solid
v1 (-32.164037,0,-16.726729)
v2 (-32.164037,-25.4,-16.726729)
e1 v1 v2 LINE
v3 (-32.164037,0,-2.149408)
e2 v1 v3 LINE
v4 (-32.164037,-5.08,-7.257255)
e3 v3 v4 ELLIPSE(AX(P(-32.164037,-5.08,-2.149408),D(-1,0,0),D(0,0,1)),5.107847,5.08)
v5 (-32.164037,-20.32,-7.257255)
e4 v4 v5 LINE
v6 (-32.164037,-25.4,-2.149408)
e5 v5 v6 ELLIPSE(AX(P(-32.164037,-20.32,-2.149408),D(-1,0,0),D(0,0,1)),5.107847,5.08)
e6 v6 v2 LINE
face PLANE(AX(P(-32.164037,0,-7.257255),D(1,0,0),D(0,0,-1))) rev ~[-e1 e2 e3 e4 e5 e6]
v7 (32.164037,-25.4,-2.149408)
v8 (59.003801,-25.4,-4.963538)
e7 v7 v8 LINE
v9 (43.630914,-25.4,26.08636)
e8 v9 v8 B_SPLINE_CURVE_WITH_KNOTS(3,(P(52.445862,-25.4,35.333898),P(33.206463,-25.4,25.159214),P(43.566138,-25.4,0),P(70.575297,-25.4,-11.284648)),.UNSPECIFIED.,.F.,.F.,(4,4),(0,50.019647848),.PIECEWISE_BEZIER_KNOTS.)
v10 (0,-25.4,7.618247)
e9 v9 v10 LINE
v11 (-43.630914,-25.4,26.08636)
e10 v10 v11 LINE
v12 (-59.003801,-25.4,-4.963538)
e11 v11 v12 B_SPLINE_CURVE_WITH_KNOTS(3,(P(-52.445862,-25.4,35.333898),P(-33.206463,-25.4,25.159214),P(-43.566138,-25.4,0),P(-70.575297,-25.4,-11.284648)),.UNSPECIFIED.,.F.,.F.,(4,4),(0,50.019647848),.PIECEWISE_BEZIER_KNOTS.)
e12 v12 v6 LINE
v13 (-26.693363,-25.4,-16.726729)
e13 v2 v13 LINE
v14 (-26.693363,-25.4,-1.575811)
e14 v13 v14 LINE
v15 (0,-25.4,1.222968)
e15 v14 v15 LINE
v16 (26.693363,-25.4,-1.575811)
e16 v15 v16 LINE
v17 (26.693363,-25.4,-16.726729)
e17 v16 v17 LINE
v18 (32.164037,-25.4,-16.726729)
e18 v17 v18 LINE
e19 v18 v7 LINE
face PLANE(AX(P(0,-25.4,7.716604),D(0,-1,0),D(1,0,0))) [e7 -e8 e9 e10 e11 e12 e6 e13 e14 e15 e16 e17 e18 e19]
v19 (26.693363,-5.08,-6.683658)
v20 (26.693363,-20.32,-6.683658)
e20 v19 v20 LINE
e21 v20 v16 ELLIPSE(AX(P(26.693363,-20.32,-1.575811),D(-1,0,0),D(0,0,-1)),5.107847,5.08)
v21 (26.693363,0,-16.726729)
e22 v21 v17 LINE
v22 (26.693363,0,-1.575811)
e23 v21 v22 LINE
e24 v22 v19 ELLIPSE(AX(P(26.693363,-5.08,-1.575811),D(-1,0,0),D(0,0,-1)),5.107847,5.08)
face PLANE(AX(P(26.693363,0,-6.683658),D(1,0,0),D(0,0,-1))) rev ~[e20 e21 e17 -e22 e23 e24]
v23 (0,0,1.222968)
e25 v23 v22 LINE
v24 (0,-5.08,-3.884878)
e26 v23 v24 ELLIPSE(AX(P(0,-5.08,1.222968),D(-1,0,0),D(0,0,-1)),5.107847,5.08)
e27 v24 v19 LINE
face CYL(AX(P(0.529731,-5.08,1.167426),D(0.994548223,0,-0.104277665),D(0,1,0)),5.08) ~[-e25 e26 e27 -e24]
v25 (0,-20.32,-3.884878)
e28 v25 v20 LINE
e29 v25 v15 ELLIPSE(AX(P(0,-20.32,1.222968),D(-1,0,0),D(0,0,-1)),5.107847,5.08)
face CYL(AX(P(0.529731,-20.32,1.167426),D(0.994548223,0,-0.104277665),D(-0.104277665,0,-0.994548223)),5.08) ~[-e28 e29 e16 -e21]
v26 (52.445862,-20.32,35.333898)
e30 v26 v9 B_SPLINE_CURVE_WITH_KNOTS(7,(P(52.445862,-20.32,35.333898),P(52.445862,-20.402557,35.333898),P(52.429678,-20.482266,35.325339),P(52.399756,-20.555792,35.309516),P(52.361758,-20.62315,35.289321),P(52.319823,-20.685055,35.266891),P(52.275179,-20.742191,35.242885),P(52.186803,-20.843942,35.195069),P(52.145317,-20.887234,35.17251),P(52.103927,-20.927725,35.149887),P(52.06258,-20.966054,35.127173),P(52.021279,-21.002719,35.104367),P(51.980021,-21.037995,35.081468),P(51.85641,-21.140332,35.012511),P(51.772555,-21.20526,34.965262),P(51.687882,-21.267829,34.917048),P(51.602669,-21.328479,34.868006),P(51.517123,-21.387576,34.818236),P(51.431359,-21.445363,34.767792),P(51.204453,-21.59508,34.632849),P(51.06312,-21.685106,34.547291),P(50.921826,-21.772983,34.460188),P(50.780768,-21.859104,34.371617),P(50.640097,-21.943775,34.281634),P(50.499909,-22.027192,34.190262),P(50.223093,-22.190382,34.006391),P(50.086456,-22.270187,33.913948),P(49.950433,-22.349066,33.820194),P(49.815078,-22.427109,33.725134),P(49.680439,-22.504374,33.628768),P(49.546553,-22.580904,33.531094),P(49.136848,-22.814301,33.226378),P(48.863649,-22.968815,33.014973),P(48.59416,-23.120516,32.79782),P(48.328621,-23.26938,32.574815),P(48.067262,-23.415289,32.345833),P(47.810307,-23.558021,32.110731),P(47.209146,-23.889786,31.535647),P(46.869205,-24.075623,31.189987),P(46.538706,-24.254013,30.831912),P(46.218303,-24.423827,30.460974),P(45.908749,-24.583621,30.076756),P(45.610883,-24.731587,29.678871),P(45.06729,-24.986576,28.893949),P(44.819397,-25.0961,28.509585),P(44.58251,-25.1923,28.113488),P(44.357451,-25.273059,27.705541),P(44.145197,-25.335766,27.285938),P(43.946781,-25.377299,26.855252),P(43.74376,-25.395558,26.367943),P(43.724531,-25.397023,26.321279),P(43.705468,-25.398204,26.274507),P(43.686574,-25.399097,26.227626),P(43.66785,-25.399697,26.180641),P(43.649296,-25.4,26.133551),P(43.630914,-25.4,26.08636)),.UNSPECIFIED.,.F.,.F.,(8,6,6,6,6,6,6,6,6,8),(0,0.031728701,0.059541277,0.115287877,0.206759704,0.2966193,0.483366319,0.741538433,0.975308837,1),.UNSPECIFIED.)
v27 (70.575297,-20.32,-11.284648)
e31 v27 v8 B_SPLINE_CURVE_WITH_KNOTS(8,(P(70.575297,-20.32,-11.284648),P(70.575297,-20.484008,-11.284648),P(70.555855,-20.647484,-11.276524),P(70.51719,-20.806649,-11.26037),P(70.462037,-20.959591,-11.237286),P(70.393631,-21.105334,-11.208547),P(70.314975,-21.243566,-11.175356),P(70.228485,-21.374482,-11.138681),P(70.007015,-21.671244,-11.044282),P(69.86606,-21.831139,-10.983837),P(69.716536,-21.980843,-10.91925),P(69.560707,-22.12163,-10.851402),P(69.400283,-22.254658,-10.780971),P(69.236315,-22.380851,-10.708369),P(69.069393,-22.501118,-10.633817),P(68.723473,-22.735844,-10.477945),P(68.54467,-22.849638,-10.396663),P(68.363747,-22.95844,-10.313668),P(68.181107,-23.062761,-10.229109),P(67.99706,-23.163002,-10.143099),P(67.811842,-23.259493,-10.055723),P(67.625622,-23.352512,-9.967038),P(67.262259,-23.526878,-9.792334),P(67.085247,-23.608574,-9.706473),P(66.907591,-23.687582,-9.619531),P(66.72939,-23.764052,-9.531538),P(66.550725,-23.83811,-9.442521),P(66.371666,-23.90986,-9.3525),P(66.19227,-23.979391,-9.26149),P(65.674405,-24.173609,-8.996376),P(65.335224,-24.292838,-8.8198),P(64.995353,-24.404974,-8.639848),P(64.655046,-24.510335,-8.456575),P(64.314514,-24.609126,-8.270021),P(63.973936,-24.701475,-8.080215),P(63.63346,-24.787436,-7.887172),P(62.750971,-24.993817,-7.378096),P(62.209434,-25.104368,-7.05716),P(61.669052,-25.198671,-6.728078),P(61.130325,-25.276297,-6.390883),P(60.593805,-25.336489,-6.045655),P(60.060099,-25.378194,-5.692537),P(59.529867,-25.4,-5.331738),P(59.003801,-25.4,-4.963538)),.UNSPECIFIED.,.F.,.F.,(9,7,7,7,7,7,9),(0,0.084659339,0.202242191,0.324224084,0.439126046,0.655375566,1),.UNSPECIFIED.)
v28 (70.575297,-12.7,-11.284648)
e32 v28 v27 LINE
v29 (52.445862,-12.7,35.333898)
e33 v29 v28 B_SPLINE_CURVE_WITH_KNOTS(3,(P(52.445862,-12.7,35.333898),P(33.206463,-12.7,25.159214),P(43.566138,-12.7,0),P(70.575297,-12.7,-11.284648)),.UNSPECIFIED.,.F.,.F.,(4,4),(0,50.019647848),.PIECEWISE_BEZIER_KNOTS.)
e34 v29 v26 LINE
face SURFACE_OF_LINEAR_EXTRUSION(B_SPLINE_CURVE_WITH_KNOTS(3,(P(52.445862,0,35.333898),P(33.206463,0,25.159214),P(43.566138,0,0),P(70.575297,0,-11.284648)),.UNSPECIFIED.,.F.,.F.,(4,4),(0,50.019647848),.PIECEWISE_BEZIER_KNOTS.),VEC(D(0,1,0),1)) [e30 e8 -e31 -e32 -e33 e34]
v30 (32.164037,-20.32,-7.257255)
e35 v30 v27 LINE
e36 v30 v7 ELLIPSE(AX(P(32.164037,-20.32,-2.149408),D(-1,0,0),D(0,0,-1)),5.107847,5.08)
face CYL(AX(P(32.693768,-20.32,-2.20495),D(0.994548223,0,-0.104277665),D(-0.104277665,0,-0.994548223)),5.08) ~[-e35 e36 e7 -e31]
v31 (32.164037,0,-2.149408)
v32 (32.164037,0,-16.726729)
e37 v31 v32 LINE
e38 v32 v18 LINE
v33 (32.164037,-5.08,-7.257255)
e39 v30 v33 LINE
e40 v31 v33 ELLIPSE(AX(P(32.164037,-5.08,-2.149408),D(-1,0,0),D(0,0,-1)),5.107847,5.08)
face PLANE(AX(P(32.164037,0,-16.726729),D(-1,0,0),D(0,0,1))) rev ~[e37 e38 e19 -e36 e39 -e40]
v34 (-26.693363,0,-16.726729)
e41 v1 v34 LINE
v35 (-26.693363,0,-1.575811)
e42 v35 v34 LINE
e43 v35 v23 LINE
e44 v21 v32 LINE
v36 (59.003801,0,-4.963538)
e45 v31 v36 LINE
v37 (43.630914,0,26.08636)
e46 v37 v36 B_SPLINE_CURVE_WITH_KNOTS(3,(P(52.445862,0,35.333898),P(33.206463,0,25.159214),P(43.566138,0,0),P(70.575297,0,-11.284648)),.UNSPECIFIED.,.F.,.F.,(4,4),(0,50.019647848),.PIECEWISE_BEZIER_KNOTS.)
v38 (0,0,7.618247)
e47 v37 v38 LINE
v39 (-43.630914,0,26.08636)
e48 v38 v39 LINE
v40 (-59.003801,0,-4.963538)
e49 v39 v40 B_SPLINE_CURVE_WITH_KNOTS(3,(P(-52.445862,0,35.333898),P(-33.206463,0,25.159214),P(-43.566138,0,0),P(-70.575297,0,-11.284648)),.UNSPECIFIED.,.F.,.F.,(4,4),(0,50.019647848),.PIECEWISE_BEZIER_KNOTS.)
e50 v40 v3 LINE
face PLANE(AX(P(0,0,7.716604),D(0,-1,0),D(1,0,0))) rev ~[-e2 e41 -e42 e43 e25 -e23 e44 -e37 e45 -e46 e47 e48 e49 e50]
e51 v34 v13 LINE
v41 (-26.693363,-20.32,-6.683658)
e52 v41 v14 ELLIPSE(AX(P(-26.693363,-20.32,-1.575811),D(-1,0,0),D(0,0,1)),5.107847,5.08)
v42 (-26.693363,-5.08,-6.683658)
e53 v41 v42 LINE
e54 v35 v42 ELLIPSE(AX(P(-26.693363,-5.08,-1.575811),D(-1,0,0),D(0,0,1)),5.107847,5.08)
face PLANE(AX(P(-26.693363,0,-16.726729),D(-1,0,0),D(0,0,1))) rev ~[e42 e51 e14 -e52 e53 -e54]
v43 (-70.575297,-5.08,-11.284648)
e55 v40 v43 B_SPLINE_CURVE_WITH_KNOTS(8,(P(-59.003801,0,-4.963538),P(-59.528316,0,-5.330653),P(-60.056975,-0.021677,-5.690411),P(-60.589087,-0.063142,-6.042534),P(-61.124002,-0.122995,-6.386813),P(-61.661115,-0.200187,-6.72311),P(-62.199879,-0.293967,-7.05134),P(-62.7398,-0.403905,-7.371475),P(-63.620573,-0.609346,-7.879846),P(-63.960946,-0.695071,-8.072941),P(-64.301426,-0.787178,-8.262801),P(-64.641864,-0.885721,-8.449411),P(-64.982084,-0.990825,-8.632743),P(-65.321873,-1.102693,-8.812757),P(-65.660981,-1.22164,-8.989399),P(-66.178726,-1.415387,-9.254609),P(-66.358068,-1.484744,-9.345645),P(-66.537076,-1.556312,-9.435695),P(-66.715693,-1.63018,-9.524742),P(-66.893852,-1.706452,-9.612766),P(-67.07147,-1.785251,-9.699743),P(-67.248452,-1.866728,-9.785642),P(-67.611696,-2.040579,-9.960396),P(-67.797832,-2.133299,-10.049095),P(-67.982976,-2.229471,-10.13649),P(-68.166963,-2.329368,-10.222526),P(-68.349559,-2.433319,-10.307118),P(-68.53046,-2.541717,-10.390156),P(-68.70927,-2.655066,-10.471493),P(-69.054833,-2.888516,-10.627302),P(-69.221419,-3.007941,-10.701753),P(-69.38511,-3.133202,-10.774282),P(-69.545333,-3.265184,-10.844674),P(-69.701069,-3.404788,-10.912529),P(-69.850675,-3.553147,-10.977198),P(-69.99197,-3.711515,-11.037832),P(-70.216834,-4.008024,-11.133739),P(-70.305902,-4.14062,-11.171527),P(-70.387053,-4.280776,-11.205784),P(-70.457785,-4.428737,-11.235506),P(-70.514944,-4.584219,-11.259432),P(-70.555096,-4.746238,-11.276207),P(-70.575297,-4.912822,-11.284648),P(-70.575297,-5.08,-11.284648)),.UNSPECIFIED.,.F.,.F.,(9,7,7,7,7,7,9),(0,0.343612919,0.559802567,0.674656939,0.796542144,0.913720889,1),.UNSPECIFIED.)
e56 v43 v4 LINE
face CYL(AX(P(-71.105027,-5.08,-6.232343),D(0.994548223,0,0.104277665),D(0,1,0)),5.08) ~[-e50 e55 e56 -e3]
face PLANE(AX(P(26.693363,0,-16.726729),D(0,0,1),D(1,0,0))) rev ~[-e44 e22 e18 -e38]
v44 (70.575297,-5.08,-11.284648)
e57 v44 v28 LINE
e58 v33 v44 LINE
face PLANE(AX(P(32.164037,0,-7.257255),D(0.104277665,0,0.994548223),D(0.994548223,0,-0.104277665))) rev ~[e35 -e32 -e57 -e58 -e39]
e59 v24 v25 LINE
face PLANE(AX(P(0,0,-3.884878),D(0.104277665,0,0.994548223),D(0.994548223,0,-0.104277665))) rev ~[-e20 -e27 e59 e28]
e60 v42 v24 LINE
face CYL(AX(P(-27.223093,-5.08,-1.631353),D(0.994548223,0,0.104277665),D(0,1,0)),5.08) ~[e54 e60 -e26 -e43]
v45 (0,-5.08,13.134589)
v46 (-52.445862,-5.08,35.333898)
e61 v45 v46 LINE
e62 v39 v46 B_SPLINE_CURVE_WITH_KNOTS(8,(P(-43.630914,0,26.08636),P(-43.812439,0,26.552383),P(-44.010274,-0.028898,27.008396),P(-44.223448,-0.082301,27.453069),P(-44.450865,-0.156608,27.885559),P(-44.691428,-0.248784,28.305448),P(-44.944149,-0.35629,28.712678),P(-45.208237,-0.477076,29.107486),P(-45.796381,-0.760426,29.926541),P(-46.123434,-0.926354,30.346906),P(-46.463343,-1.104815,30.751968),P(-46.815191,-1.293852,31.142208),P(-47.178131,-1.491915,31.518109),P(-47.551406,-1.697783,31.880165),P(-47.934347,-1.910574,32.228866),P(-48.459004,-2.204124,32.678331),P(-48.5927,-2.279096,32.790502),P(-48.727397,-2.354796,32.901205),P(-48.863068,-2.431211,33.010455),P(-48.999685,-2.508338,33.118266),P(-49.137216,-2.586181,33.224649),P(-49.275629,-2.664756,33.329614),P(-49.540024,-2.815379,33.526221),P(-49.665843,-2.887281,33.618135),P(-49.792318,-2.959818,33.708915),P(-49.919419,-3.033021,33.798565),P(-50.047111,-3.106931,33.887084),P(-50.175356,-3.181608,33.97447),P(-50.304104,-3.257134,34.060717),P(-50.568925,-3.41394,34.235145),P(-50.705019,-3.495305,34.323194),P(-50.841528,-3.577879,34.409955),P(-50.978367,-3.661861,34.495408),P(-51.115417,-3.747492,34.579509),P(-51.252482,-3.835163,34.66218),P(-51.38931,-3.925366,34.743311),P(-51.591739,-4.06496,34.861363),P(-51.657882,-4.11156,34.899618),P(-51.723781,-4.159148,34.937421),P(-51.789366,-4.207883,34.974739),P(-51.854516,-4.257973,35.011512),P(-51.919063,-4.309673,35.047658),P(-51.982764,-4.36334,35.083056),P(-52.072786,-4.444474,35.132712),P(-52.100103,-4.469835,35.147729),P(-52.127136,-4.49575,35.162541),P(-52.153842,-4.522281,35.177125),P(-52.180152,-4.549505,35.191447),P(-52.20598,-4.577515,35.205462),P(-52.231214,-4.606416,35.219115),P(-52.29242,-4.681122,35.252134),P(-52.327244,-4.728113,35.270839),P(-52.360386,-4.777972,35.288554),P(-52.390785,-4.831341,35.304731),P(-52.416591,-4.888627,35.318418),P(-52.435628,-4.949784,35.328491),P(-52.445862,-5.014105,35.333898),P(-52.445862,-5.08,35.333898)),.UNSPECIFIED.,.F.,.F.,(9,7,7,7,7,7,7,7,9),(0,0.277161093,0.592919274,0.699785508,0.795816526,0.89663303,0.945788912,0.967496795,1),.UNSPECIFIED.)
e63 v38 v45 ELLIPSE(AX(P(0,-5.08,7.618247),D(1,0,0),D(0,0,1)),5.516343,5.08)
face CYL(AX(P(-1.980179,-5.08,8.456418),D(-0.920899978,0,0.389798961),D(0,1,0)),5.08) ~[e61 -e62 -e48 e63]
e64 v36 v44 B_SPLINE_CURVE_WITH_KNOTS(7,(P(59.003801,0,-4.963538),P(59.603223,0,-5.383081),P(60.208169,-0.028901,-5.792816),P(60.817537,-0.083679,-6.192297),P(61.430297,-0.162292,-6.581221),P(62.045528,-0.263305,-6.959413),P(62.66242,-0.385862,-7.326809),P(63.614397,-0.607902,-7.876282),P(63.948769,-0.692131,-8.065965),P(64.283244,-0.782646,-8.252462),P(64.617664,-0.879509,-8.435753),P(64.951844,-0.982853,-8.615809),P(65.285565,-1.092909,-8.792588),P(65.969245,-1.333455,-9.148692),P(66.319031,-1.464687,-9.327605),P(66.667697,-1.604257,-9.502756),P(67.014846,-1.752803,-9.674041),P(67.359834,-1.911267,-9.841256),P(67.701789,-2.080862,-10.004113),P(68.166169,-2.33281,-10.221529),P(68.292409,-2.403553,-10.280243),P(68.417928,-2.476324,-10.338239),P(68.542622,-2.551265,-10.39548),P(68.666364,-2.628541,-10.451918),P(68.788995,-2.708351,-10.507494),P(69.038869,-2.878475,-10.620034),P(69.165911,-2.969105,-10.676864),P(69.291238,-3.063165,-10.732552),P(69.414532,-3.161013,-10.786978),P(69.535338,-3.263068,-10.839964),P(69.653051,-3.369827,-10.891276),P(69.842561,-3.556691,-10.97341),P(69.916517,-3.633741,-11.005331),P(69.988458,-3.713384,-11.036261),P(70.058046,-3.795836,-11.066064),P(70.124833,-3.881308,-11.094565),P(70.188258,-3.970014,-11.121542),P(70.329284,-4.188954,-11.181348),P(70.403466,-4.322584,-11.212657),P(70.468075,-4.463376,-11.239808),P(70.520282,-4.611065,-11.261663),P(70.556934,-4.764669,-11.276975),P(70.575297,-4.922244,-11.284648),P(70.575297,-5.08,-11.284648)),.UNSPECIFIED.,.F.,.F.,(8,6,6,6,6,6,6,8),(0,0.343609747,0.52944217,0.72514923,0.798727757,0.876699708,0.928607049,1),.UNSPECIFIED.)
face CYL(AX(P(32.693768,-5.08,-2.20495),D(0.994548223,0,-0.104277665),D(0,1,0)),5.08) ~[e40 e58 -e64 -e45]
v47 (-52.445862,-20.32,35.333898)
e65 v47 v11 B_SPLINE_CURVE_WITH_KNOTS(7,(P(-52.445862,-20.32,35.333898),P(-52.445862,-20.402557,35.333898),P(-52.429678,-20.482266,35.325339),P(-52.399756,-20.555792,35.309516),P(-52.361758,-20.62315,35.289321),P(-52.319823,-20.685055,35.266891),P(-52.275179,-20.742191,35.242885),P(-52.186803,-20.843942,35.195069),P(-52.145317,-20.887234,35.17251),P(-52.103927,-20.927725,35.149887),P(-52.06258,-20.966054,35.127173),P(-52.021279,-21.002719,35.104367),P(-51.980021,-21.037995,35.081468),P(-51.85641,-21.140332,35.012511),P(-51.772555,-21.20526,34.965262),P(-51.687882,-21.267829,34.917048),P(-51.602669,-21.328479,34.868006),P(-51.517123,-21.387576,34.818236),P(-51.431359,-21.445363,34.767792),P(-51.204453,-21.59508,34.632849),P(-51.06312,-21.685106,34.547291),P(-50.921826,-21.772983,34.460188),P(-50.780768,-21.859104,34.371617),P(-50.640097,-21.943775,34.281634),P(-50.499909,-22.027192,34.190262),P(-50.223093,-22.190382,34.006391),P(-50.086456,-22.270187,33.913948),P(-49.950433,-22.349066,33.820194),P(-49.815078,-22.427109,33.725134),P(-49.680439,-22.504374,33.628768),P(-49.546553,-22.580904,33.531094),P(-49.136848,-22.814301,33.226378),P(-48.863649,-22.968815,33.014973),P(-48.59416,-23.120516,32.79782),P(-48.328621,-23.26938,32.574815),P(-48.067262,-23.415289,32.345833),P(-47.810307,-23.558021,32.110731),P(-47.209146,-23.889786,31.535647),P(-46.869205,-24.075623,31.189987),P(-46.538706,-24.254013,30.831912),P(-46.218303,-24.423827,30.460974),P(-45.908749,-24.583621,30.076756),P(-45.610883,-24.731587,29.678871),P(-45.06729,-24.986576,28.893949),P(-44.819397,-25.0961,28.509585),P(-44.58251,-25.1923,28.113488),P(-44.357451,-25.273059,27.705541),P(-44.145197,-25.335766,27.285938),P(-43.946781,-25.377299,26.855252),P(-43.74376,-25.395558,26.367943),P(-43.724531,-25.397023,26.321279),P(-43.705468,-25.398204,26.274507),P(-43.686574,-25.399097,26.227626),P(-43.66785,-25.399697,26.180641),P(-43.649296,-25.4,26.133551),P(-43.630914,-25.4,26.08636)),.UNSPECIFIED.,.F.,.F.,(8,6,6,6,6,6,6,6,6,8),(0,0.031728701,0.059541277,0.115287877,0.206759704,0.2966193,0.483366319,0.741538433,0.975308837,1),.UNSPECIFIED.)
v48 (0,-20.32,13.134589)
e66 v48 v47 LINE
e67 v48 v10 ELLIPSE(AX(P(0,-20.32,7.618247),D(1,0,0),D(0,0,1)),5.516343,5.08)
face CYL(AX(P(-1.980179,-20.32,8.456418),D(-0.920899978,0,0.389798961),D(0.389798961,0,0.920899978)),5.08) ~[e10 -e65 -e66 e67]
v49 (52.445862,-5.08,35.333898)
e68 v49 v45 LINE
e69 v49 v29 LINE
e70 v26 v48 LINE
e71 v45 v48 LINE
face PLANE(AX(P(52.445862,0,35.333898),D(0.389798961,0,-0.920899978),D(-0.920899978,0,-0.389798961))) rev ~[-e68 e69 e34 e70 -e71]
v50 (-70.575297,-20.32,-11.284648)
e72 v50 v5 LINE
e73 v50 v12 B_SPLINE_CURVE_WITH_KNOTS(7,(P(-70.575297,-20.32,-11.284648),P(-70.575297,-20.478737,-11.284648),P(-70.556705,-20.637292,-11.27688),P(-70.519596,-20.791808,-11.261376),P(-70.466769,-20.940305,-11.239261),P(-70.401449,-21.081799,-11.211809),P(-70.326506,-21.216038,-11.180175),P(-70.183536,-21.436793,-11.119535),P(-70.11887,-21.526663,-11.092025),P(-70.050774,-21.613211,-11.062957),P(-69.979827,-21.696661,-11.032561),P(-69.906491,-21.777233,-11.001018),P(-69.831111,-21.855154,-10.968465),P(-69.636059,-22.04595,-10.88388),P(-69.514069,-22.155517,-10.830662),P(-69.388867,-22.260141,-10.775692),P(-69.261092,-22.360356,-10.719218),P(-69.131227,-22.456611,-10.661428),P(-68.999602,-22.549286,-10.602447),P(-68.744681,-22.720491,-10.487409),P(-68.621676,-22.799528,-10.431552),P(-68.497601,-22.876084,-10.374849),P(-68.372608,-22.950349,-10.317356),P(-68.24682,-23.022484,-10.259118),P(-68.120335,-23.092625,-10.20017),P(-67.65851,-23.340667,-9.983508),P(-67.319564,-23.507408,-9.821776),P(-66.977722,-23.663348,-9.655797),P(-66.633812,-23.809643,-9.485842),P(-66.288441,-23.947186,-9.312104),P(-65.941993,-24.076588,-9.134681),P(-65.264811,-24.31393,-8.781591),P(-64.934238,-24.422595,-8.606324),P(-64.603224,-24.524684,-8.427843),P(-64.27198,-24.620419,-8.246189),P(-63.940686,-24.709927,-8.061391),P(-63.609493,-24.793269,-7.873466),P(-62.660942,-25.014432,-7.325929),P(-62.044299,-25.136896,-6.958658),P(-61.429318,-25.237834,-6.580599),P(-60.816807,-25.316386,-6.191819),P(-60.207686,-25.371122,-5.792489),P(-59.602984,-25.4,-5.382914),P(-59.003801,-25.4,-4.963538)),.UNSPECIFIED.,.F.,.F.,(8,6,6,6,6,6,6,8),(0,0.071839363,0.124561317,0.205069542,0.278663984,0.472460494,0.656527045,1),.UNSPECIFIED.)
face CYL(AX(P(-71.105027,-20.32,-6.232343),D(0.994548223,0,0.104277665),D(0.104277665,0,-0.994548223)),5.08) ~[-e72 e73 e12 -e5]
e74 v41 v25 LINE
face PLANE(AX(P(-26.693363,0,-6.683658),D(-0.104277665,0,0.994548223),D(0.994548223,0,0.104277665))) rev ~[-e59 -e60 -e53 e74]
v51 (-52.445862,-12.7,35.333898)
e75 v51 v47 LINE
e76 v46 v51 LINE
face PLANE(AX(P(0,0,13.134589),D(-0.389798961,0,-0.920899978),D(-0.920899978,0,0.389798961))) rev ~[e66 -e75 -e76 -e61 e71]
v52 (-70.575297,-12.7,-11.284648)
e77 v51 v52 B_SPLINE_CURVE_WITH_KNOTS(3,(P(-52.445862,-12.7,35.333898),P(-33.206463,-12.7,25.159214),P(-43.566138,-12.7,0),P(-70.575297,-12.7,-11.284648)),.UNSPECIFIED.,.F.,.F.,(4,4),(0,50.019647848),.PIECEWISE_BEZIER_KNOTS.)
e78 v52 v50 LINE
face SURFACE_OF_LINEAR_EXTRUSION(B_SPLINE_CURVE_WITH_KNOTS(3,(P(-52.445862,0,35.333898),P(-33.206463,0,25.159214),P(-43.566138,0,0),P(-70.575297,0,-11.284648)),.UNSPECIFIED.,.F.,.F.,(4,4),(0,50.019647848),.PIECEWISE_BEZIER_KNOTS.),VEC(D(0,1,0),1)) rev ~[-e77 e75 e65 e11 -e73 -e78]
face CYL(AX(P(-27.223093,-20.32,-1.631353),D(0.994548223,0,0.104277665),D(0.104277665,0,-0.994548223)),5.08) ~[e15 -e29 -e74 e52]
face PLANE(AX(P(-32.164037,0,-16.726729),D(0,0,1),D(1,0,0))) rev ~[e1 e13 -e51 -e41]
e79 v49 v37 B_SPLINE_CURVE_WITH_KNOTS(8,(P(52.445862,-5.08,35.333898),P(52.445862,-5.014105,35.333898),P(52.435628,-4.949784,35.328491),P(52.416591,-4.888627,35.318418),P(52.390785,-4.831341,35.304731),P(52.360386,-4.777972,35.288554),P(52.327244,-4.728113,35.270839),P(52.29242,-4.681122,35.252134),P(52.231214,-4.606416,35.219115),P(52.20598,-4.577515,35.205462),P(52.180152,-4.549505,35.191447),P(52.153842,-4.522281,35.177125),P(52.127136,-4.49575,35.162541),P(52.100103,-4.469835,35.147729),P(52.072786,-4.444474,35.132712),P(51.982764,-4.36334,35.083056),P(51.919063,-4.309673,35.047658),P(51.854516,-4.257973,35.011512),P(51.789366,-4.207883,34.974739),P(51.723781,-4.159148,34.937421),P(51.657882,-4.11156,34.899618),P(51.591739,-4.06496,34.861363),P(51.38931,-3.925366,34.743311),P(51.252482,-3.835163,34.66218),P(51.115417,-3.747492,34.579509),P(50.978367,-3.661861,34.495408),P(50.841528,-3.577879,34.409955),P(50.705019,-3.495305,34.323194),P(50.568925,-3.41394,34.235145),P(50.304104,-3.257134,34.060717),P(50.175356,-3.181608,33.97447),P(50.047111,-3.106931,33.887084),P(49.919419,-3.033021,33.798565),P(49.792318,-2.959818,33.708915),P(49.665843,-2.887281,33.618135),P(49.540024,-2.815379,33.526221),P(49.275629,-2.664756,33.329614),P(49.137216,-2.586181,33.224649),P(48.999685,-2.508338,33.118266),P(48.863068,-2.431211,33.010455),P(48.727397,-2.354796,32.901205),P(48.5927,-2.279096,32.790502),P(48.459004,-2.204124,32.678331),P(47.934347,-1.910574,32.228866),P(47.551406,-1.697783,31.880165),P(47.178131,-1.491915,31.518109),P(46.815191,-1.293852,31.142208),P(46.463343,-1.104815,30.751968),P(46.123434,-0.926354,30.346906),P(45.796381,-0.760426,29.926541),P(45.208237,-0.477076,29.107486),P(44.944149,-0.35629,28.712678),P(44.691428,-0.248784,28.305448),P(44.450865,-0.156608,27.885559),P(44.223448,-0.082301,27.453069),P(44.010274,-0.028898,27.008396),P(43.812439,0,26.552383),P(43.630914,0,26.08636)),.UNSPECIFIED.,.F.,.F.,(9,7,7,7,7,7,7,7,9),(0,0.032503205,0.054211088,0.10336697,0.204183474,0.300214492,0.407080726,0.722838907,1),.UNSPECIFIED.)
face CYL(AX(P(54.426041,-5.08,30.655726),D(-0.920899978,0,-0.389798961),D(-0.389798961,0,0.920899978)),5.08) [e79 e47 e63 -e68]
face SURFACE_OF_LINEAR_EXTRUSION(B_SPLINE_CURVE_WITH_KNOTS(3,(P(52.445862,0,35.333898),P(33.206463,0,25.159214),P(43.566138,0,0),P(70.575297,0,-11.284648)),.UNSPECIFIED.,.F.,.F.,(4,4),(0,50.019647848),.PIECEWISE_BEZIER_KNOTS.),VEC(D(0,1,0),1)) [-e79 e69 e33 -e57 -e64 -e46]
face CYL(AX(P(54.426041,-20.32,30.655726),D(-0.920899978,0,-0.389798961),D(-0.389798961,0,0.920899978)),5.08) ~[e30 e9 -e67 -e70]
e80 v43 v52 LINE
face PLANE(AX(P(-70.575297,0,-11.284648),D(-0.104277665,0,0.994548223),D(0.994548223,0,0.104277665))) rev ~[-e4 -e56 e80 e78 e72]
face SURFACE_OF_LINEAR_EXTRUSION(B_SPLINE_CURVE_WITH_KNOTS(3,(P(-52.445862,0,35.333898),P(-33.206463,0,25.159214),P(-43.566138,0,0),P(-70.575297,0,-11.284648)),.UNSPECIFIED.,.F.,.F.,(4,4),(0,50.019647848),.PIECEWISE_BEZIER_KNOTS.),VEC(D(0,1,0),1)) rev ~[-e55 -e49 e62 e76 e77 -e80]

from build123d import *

# Parameters (mm, degrees)
F1_DEPTH = 12.7
F2_DEPTH = 25.4
F3_R     = 5.08
F5_DEPTH = 19.812


with BuildPart() as f1:
    # F0 (on Front) → F1 (new body)
    with BuildSketch(Plane.XZ):
        with BuildLine():
            Line((52.4458624423, 35.3338979185), (0, 13.1345894188))
            Line((0, 13.1345894188), (-52.4458624423, 35.3338979185))
            add(Edge.make_bspline(
                [(-52.4458624423, 35.3338979185), (-33.2064628601, 25.1592136919), (-43.5661375523, 0), (-70.5752968788, -11.2846475095)],
                knots=[0, 0, 0, 0, 50.0196478477, 50.0196478477, 50.0196478477, 50.0196478477], degree=3))
            Line((-70.5752968788, -11.2846475095), (-32.1640369767, -7.2572545808))
            Line((-32.1640369767, -7.2572545808), (-26.6933627427, -6.6836583285))
            Line((-26.6933627427, -6.6836583285), (0, -3.8848784752))
            Line((0, -3.8848784752), (26.6933627427, -6.6836583285))
            Line((26.6933627427, -6.6836583285), (32.1640369767, -7.2572545808))
            Line((32.1640369767, -7.2572545808), (70.5752968788, -11.2846475095))
            add(Edge.make_bspline(
                [(52.4458624423, 35.3338979185), (33.2064628601, 25.1592136919), (43.5661375523, 0), (70.5752968788, -11.2846475095)],
                knots=[0, 0, 0, 0, 50.0196478477, 50.0196478477, 50.0196478477, 50.0196478477], degree=3))
        make_face()
    extrude(amount=F1_DEPTH)

    # F0 (on Front) → F2 (join)
    with BuildSketch(Plane.XZ):
        with BuildLine():
            Line((52.4458624423, 35.3338979185), (0, 13.1345894188))
            Line((0, 13.1345894188), (-52.4458624423, 35.3338979185))
            add(Edge.make_bspline(
                [(-52.4458624423, 35.3338979185), (-33.2064628601, 25.1592136919), (-43.5661375523, 0), (-70.5752968788, -11.2846475095)],
                knots=[0, 0, 0, 0, 50.0196478477, 50.0196478477, 50.0196478477, 50.0196478477], degree=3))
            Line((-70.5752968788, -11.2846475095), (-32.1640369767, -7.2572545808))
            Line((-32.1640369767, -7.2572545808), (-26.6933627427, -6.6836583285))
            Line((-26.6933627427, -6.6836583285), (0, -3.8848784752))
            Line((0, -3.8848784752), (26.6933627427, -6.6836583285))
            Line((26.6933627427, -6.6836583285), (32.1640369767, -7.2572545808))
            Line((32.1640369767, -7.2572545808), (70.5752968788, -11.2846475095))
            add(Edge.make_bspline(
                [(52.4458624423, 35.3338979185), (33.2064628601, 25.1592136919), (43.5661375523, 0), (70.5752968788, -11.2846475095)],
                knots=[0, 0, 0, 0, 50.0196478477, 50.0196478477, 50.0196478477, 50.0196478477], degree=3))
        make_face()
        Polygon((-26.6933627427, -6.6836583285), (-32.1640369767, -7.2572545808), (-32.1640369767, -16.7267285287), (-26.6933627427, -16.7267285287), align=None)
        Polygon((32.1640369767, -16.7267285287), (32.1640369767, -7.2572545808), (26.6933627427, -6.6836583285), (26.6933627427, -16.7267285287), align=None)
    extrude(amount=F2_DEPTH)

    # F3
    f3_edges = [f1.edges().sort_by_distance(p)[0] for p in [
        (-26.222931, -25.4, 24.234244),
        (26.222931, -25.4, 24.234244),
        (-26.222931, 0, 24.234244),
        (26.222931, 0, 24.234244),
        (51.369667, -25.4, -9.270951),
        (13.346681, -25.4, -5.284268),
        (-13.346681, -25.4, -5.284268),
        (-51.369667, -25.4, -9.270951),
        (51.369667, 0, -9.270951),
        (13.346681, 0, -5.284268),
        (-13.346681, 0, -5.284268),
        (-51.369667, 0, -9.270951),
    ]]
    fillet(f3_edges, radius=F3_R)

    # F4 (on face) → F5 (join)
    with BuildSketch(Plane.XZ.offset(25.4)):
        with BuildLine():
            Line((-1.0620621516, 7.1502164938), (-12.1599985287, 7.1502164938))
            Line((-12.1599985287, 7.1502164938), (-12.1599985287, 2.2335385438))
            Line((-12.1599985287, 2.2335385438), (-11.2093127532, 2.2335385438))
            Line((-11.2093127532, 2.2335385438), (-9.1895056006, 6.5985840067))
            Line((-9.1895056006, 6.5985840067), (-11.8463042324, 6.5985840067))
            Line((-11.8463042324, 6.5985840067), (-11.8463042324, 7.1086039851))
            Line((-11.8463042324, 7.1086039851), (-8.6026625293, 7.1086039851))
            Line((-8.6026625293, 7.1086039851), (-8.6026625293, 6.6647372257))
            Line((-8.6026625293, 6.6647372257), (-10.5957949968, 2.2335385438))
            Line((-10.5957949968, 2.2335385438), (-7.6288252286, 2.2335385438))
            add(Edge.make_bspline(
                [(-7.6288252286, 2.2335385438), (-7.6332434575, 2.2374605361), (-7.6375724239, 2.2415409493)],
                knots=[0.9611752535, 0.9611752535, 0.9611752535, 1, 1, 1], degree=2))
            add(Edge.make_bspline(
                [(-7.6375724239, 2.2415409493), (-7.7490726074, 2.3466392085), (-7.7490726074, 2.586711374)],
                knots=[0, 0, 0, 1, 1, 1], degree=2))
            add(Edge.make_bspline(
                [(-7.7490726074, 2.586711374), (-7.7490726074, 2.8107787285), (-7.6471753105, 2.9254798742)],
                knots=[0, 0, 0, 1, 1, 1], degree=2))
            add(Edge.make_bspline(
                [(-7.6471753105, 2.9254798742), (-7.5452780136, 3.04018102), (-7.355354256, 3.04018102)],
                knots=[0, 0, 0, 1, 1, 1], degree=2))
            add(Edge.make_bspline(
                [(-7.355354256, 3.04018102), (-7.1622295361, 3.04018102), (-7.0539303148, 2.9254798742)],
                knots=[0, 0, 0, 1, 1, 1], degree=2))
            add(Edge.make_bspline(
                [(-7.0539303148, 2.9254798742), (-6.9456310935, 2.8107787285), (-6.9456310935, 2.586711374)],
                knots=[0, 0, 0, 1, 1, 1], degree=2))
            add(Edge.make_bspline(
                [(-6.9456310935, 2.586711374), (-6.9456310935, 2.3701129313), (-7.0555307959, 2.2532778107)],
                knots=[0, 0, 0, 1, 1, 1], degree=2))
            add(Edge.make_bspline(
                [(-7.0555307959, 2.2532778107), (-7.0652437796, 2.2429518718), (-7.0755818393, 2.2335385438)],
                knots=[0, 0, 0, 0.0883804366, 0.0883804366, 0.0883804366], degree=2))
            Line((-7.0755818393, 2.2335385438), (-3.9249897575, 2.2335385438))
            Line((-3.9249897575, 2.2335385438), (-3.9249897575, 3.3538753163))
            Line((-3.9249897575, 3.3538753163), (-6.2958357654, 3.3538753163))
            Line((-6.2958357654, 3.3538753163), (-6.2958357654, 3.8372206095))
            Line((-6.2958357654, 3.8372206095), (-3.9815400898, 7.1352786701))
            Line((-3.9815400898, 7.1352786701), (-3.3946970185, 7.1352786701))
            Line((-3.3946970185, 7.1352786701), (-3.3946970185, 3.8574933702))
            Line((-3.3946970185, 3.8574933702), (-2.6712795597, 3.8574933702))
            Line((-2.6712795597, 3.8574933702), (-2.6712795597, 3.3538753163))
            Line((-2.6712795597, 3.3538753163), (-3.3946970185, 3.3538753163))
            Line((-3.3946970185, 3.3538753163), (-3.3946970185, 2.2335385438))
            Line((-3.3946970185, 2.2335385438), (-1.640698507, 2.2335385438))
            add(Edge.make_bspline(
                [(-1.640698507, 2.2335385438), (-1.9389440856, 2.2937967953), (-2.2210108759, 2.4298642258)],
                knots=[0.0691615274, 0.0691615274, 0.0691615274, 1, 1, 1], degree=2))
            Line((-2.2210108759, 2.4298642258), (-2.2210108759, 2.9569560026))
            add(Edge.make_bspline(
                [(-2.2210108759, 2.9569560026), (-1.9041156174, 2.8001088544), (-1.5456078503, 2.7184843182)],
                knots=[0, 0, 0, 1, 1, 1], degree=2))
            add(Edge.make_bspline(
                [(-1.5456078503, 2.7184843182), (-1.1871000831, 2.6368597819), (-0.8670038624, 2.6368597819)],
                knots=[0, 0, 0, 1, 1, 1], degree=2))
            add(Edge.make_bspline(
                [(-0.8670038624, 2.6368597819), (0.396309222, 2.6368597819), (0.396309222, 3.6270240913)],
                knots=[0, 0, 0, 1, 1, 1], degree=2))
            add(Edge.make_bspline(
                [(0.396309222, 3.6270240913), (0.396309222, 4.51475761), (-0.9971763255, 4.51475761)],
                knots=[0, 0, 0, 1, 1, 1], degree=2))
            Line((-0.9971763255, 4.51475761), (-1.4773206565, 4.51475761))
            Line((-1.4773206565, 4.51475761), (-1.4773206565, 4.9906339914))
            Line((-1.4773206565, 4.9906339914), (-0.990774401, 4.9906339914))
            add(Edge.make_bspline(
                [(-0.990774401, 4.9906339914), (-0.4210031282, 4.9906339914), (-0.087569565, 5.2424430184)],
                knots=[0, 0, 0, 1, 1, 1], degree=2))
            add(Edge.make_bspline(
                [(-0.087569565, 5.2424430184), (0.2458639983, 5.4942520453), (0.2458639983, 5.9413197669)],
                knots=[0, 0, 0, 1, 1, 1], degree=2))
            add(Edge.make_bspline(
                [(0.2458639983, 5.9413197669), (0.2458639983, 6.2976935593), (0.0009903894, 6.5014881531)],
                knots=[0, 0, 0, 1, 1, 1], degree=2))
            add(Edge.make_bspline(
                [(0.0009903894, 6.5014881531), (-0.2438832194, 6.705282747), (-0.6642762559, 6.705282747)],
                knots=[0, 0, 0, 1, 1, 1], degree=2))
            add(Edge.make_bspline(
                [(-0.6642762559, 6.705282747), (-0.9843724766, 6.705282747), (-1.2676576319, 6.6183232737)],
                knots=[0, 0, 0, 1, 1, 1], degree=2))
            add(Edge.make_bspline(
                [(-1.2676576319, 6.6183232737), (-1.5509427873, 6.5313638004), (-1.9147854915, 6.2976935593)],
                knots=[0, 0, 0, 1, 1, 1], degree=2))
            Line((-1.9147854915, 6.2976935593), (-2.1943361909, 6.6711391501))
            add(Edge.make_bspline(
                [(-2.1943361909, 6.6711391501), (-1.8945127308, 6.9080103534), (-1.5029283542, 7.0429842598)],
                knots=[0, 0, 0, 1, 1, 1], degree=2))
            add(Edge.make_bspline(
                [(-1.5029283542, 7.0429842598), (-1.2888719394, 7.116766648), (-1.0620621516, 7.1502164938)],
                knots=[0, 0, 0, 0.5466418669, 0.5466418669, 0.5466418669], degree=2))
        make_face()
        with BuildLine():
            add(Edge.make_bspline(
                [(-7.6375724239, 5.1864261798), (-7.7490726074, 5.2915244389), (-7.7490726074, 5.5315966044)],
                knots=[0, 0, 0, 1, 1, 1], degree=2))
            add(Edge.make_bspline(
                [(-7.7490726074, 5.5315966044), (-7.7490726074, 5.9818652882), (-7.355354256, 5.9818652882)],
                knots=[0, 0, 0, 1, 1, 1], degree=2))
            add(Edge.make_bspline(
                [(-7.355354256, 5.9818652882), (-6.9456310935, 5.9818652882), (-6.9456310935, 5.5315966044)],
                knots=[0, 0, 0, 1, 1, 1], degree=2))
            add(Edge.make_bspline(
                [(-6.9456310935, 5.5315966044), (-6.9456310935, 5.3149981617), (-7.0555307959, 5.1981630412)],
                knots=[0, 0, 0, 1, 1, 1], degree=2))
            add(Edge.make_bspline(
                [(-7.0555307959, 5.1981630412), (-7.1654304983, 5.0813279206), (-7.355354256, 5.0813279206)],
                knots=[0, 0, 0, 1, 1, 1], degree=2))
            add(Edge.make_bspline(
                [(-7.355354256, 5.0813279206), (-7.5260722403, 5.0813279206), (-7.6375724239, 5.1864261798)],
                knots=[0, 0, 0, 1, 1, 1], degree=2))
        make_face(mode=Mode.SUBTRACT)
        with BuildLine():
            Line((12.5685015078, 7.1502164938), (-0.2893760982, 7.1502164938))
            add(Edge.make_bspline(
                [(-0.2893760982, 7.1502164938), (0.1475144145, 7.0830202677), (0.4261848693, 6.8530605022)],
                knots=[0.2922086215, 0.2922086215, 0.2922086215, 1, 1, 1], degree=2))
            add(Edge.make_bspline(
                [(0.4261848693, 6.8530605022), (0.8199032207, 6.5281628382), (0.8199032207, 5.9615925276)],
                knots=[0, 0, 0, 1, 1, 1], degree=2))
            add(Edge.make_bspline(
                [(0.8199032207, 5.9615925276), (0.8199032207, 5.4942520453), (0.5579578134, 5.1976295475)],
                knots=[0, 0, 0, 1, 1, 1], degree=2))
            add(Edge.make_bspline(
                [(0.5579578134, 5.1976295475), (0.2960124062, 4.9010070496), (-0.1841319249, 4.8007102338)],
                knots=[0, 0, 0, 1, 1, 1], degree=2))
            Line((-0.1841319249, 4.8007102338), (-0.1841319249, 4.7740355488))
            add(Edge.make_bspline(
                [(-0.1841319249, 4.7740355488), (0.4027111464, 4.7014804054), (0.6859963017, 4.4011234516)],
                knots=[0, 0, 0, 1, 1, 1], degree=2))
            add(Edge.make_bspline(
                [(0.6859963017, 4.4011234516), (0.969281457, 4.1007664979), (0.969281457, 3.6142202424)],
                knots=[0, 0, 0, 1, 1, 1], degree=2))
            add(Edge.make_bspline(
                [(0.969281457, 3.6142202424), (0.969281457, 2.9174774687), (0.4859361638, 2.5418979031)],
                knots=[0, 0, 0, 1, 1, 1], degree=2))
            add(Edge.make_bspline(
                [(0.4859361638, 2.5418979031), (0.2070735074, 2.3252099228), (-0.2071054134, 2.2335385438)],
                knots=[0, 0, 0, 0.5769429439, 0.5769429439, 0.5769429439], degree=2))
            Line((-0.2071054134, 2.2335385438), (3.8138698717, 2.2335385438))
            Line((3.8138698717, 2.2335385438), (3.8138698717, 7.1086039851))
            Line((3.8138698717, 7.1086039851), (6.5314867854, 7.1086039851))
            Line((6.5314867854, 7.1086039851), (6.5314867854, 6.6049859312))
            Line((6.5314867854, 6.6049859312), (4.3804401823, 6.6049859312))
            Line((4.3804401823, 6.6049859312), (4.3804401823, 4.8209829945))
            Line((4.3804401823, 4.8209829945), (6.4013143223, 4.8209829945))
            Line((6.4013143223, 4.8209829945), (6.4013143223, 4.3173649406))
            Line((6.4013143223, 4.3173649406), (4.3804401823, 4.3173649406))
            Line((4.3804401823, 4.3173649406), (4.3804401823, 2.2335385438))
            Line((4.3804401823, 2.2335385438), (7.3381292616, 2.2335385438))
            Line((7.3381292616, 2.2335385438), (7.3381292616, 7.1086039851))
            Line((7.3381292616, 7.1086039851), (8.6750644767, 7.1086039851))
            add(Edge.make_bspline(
                [(8.6750644767, 7.1086039851), (9.5724008821, 7.1086039851), (10.0007963241, 6.7650340415)],
                knots=[0, 0, 0, 1, 1, 1], degree=2))
            add(Edge.make_bspline(
                [(10.0007963241, 6.7650340415), (10.4291917661, 6.421464098), (10.4291917661, 5.7311232487)],
                knots=[0, 0, 0, 1, 1, 1], degree=2))
            add(Edge.make_bspline(
                [(10.4291917661, 5.7311232487), (10.4291917661, 4.7644326621), (9.4486303434, 4.4240636808)],
                knots=[0, 0, 0, 1, 1, 1], degree=2))
            Line((9.4486303434, 4.4240636808), (10.7727617097, 2.2335385438))
            Line((10.7727617097, 2.2335385438), (11.5591314252, 2.2335385438))
            Line((11.5591314252, 2.2335385438), (11.5591314252, 7.1086039851))
            Line((11.5591314252, 7.1086039851), (12.1257017358, 7.1086039851))
            Line((12.1257017358, 7.1086039851), (12.1257017358, 2.2335385438))
            Line((12.1257017358, 2.2335385438), (12.5685015078, 2.2335385438))
            Line((12.5685015078, 2.2335385438), (12.5685015078, 7.1502164938))
        make_face()
    extrude(amount=-F5_DEPTH)


solid = f1.part
